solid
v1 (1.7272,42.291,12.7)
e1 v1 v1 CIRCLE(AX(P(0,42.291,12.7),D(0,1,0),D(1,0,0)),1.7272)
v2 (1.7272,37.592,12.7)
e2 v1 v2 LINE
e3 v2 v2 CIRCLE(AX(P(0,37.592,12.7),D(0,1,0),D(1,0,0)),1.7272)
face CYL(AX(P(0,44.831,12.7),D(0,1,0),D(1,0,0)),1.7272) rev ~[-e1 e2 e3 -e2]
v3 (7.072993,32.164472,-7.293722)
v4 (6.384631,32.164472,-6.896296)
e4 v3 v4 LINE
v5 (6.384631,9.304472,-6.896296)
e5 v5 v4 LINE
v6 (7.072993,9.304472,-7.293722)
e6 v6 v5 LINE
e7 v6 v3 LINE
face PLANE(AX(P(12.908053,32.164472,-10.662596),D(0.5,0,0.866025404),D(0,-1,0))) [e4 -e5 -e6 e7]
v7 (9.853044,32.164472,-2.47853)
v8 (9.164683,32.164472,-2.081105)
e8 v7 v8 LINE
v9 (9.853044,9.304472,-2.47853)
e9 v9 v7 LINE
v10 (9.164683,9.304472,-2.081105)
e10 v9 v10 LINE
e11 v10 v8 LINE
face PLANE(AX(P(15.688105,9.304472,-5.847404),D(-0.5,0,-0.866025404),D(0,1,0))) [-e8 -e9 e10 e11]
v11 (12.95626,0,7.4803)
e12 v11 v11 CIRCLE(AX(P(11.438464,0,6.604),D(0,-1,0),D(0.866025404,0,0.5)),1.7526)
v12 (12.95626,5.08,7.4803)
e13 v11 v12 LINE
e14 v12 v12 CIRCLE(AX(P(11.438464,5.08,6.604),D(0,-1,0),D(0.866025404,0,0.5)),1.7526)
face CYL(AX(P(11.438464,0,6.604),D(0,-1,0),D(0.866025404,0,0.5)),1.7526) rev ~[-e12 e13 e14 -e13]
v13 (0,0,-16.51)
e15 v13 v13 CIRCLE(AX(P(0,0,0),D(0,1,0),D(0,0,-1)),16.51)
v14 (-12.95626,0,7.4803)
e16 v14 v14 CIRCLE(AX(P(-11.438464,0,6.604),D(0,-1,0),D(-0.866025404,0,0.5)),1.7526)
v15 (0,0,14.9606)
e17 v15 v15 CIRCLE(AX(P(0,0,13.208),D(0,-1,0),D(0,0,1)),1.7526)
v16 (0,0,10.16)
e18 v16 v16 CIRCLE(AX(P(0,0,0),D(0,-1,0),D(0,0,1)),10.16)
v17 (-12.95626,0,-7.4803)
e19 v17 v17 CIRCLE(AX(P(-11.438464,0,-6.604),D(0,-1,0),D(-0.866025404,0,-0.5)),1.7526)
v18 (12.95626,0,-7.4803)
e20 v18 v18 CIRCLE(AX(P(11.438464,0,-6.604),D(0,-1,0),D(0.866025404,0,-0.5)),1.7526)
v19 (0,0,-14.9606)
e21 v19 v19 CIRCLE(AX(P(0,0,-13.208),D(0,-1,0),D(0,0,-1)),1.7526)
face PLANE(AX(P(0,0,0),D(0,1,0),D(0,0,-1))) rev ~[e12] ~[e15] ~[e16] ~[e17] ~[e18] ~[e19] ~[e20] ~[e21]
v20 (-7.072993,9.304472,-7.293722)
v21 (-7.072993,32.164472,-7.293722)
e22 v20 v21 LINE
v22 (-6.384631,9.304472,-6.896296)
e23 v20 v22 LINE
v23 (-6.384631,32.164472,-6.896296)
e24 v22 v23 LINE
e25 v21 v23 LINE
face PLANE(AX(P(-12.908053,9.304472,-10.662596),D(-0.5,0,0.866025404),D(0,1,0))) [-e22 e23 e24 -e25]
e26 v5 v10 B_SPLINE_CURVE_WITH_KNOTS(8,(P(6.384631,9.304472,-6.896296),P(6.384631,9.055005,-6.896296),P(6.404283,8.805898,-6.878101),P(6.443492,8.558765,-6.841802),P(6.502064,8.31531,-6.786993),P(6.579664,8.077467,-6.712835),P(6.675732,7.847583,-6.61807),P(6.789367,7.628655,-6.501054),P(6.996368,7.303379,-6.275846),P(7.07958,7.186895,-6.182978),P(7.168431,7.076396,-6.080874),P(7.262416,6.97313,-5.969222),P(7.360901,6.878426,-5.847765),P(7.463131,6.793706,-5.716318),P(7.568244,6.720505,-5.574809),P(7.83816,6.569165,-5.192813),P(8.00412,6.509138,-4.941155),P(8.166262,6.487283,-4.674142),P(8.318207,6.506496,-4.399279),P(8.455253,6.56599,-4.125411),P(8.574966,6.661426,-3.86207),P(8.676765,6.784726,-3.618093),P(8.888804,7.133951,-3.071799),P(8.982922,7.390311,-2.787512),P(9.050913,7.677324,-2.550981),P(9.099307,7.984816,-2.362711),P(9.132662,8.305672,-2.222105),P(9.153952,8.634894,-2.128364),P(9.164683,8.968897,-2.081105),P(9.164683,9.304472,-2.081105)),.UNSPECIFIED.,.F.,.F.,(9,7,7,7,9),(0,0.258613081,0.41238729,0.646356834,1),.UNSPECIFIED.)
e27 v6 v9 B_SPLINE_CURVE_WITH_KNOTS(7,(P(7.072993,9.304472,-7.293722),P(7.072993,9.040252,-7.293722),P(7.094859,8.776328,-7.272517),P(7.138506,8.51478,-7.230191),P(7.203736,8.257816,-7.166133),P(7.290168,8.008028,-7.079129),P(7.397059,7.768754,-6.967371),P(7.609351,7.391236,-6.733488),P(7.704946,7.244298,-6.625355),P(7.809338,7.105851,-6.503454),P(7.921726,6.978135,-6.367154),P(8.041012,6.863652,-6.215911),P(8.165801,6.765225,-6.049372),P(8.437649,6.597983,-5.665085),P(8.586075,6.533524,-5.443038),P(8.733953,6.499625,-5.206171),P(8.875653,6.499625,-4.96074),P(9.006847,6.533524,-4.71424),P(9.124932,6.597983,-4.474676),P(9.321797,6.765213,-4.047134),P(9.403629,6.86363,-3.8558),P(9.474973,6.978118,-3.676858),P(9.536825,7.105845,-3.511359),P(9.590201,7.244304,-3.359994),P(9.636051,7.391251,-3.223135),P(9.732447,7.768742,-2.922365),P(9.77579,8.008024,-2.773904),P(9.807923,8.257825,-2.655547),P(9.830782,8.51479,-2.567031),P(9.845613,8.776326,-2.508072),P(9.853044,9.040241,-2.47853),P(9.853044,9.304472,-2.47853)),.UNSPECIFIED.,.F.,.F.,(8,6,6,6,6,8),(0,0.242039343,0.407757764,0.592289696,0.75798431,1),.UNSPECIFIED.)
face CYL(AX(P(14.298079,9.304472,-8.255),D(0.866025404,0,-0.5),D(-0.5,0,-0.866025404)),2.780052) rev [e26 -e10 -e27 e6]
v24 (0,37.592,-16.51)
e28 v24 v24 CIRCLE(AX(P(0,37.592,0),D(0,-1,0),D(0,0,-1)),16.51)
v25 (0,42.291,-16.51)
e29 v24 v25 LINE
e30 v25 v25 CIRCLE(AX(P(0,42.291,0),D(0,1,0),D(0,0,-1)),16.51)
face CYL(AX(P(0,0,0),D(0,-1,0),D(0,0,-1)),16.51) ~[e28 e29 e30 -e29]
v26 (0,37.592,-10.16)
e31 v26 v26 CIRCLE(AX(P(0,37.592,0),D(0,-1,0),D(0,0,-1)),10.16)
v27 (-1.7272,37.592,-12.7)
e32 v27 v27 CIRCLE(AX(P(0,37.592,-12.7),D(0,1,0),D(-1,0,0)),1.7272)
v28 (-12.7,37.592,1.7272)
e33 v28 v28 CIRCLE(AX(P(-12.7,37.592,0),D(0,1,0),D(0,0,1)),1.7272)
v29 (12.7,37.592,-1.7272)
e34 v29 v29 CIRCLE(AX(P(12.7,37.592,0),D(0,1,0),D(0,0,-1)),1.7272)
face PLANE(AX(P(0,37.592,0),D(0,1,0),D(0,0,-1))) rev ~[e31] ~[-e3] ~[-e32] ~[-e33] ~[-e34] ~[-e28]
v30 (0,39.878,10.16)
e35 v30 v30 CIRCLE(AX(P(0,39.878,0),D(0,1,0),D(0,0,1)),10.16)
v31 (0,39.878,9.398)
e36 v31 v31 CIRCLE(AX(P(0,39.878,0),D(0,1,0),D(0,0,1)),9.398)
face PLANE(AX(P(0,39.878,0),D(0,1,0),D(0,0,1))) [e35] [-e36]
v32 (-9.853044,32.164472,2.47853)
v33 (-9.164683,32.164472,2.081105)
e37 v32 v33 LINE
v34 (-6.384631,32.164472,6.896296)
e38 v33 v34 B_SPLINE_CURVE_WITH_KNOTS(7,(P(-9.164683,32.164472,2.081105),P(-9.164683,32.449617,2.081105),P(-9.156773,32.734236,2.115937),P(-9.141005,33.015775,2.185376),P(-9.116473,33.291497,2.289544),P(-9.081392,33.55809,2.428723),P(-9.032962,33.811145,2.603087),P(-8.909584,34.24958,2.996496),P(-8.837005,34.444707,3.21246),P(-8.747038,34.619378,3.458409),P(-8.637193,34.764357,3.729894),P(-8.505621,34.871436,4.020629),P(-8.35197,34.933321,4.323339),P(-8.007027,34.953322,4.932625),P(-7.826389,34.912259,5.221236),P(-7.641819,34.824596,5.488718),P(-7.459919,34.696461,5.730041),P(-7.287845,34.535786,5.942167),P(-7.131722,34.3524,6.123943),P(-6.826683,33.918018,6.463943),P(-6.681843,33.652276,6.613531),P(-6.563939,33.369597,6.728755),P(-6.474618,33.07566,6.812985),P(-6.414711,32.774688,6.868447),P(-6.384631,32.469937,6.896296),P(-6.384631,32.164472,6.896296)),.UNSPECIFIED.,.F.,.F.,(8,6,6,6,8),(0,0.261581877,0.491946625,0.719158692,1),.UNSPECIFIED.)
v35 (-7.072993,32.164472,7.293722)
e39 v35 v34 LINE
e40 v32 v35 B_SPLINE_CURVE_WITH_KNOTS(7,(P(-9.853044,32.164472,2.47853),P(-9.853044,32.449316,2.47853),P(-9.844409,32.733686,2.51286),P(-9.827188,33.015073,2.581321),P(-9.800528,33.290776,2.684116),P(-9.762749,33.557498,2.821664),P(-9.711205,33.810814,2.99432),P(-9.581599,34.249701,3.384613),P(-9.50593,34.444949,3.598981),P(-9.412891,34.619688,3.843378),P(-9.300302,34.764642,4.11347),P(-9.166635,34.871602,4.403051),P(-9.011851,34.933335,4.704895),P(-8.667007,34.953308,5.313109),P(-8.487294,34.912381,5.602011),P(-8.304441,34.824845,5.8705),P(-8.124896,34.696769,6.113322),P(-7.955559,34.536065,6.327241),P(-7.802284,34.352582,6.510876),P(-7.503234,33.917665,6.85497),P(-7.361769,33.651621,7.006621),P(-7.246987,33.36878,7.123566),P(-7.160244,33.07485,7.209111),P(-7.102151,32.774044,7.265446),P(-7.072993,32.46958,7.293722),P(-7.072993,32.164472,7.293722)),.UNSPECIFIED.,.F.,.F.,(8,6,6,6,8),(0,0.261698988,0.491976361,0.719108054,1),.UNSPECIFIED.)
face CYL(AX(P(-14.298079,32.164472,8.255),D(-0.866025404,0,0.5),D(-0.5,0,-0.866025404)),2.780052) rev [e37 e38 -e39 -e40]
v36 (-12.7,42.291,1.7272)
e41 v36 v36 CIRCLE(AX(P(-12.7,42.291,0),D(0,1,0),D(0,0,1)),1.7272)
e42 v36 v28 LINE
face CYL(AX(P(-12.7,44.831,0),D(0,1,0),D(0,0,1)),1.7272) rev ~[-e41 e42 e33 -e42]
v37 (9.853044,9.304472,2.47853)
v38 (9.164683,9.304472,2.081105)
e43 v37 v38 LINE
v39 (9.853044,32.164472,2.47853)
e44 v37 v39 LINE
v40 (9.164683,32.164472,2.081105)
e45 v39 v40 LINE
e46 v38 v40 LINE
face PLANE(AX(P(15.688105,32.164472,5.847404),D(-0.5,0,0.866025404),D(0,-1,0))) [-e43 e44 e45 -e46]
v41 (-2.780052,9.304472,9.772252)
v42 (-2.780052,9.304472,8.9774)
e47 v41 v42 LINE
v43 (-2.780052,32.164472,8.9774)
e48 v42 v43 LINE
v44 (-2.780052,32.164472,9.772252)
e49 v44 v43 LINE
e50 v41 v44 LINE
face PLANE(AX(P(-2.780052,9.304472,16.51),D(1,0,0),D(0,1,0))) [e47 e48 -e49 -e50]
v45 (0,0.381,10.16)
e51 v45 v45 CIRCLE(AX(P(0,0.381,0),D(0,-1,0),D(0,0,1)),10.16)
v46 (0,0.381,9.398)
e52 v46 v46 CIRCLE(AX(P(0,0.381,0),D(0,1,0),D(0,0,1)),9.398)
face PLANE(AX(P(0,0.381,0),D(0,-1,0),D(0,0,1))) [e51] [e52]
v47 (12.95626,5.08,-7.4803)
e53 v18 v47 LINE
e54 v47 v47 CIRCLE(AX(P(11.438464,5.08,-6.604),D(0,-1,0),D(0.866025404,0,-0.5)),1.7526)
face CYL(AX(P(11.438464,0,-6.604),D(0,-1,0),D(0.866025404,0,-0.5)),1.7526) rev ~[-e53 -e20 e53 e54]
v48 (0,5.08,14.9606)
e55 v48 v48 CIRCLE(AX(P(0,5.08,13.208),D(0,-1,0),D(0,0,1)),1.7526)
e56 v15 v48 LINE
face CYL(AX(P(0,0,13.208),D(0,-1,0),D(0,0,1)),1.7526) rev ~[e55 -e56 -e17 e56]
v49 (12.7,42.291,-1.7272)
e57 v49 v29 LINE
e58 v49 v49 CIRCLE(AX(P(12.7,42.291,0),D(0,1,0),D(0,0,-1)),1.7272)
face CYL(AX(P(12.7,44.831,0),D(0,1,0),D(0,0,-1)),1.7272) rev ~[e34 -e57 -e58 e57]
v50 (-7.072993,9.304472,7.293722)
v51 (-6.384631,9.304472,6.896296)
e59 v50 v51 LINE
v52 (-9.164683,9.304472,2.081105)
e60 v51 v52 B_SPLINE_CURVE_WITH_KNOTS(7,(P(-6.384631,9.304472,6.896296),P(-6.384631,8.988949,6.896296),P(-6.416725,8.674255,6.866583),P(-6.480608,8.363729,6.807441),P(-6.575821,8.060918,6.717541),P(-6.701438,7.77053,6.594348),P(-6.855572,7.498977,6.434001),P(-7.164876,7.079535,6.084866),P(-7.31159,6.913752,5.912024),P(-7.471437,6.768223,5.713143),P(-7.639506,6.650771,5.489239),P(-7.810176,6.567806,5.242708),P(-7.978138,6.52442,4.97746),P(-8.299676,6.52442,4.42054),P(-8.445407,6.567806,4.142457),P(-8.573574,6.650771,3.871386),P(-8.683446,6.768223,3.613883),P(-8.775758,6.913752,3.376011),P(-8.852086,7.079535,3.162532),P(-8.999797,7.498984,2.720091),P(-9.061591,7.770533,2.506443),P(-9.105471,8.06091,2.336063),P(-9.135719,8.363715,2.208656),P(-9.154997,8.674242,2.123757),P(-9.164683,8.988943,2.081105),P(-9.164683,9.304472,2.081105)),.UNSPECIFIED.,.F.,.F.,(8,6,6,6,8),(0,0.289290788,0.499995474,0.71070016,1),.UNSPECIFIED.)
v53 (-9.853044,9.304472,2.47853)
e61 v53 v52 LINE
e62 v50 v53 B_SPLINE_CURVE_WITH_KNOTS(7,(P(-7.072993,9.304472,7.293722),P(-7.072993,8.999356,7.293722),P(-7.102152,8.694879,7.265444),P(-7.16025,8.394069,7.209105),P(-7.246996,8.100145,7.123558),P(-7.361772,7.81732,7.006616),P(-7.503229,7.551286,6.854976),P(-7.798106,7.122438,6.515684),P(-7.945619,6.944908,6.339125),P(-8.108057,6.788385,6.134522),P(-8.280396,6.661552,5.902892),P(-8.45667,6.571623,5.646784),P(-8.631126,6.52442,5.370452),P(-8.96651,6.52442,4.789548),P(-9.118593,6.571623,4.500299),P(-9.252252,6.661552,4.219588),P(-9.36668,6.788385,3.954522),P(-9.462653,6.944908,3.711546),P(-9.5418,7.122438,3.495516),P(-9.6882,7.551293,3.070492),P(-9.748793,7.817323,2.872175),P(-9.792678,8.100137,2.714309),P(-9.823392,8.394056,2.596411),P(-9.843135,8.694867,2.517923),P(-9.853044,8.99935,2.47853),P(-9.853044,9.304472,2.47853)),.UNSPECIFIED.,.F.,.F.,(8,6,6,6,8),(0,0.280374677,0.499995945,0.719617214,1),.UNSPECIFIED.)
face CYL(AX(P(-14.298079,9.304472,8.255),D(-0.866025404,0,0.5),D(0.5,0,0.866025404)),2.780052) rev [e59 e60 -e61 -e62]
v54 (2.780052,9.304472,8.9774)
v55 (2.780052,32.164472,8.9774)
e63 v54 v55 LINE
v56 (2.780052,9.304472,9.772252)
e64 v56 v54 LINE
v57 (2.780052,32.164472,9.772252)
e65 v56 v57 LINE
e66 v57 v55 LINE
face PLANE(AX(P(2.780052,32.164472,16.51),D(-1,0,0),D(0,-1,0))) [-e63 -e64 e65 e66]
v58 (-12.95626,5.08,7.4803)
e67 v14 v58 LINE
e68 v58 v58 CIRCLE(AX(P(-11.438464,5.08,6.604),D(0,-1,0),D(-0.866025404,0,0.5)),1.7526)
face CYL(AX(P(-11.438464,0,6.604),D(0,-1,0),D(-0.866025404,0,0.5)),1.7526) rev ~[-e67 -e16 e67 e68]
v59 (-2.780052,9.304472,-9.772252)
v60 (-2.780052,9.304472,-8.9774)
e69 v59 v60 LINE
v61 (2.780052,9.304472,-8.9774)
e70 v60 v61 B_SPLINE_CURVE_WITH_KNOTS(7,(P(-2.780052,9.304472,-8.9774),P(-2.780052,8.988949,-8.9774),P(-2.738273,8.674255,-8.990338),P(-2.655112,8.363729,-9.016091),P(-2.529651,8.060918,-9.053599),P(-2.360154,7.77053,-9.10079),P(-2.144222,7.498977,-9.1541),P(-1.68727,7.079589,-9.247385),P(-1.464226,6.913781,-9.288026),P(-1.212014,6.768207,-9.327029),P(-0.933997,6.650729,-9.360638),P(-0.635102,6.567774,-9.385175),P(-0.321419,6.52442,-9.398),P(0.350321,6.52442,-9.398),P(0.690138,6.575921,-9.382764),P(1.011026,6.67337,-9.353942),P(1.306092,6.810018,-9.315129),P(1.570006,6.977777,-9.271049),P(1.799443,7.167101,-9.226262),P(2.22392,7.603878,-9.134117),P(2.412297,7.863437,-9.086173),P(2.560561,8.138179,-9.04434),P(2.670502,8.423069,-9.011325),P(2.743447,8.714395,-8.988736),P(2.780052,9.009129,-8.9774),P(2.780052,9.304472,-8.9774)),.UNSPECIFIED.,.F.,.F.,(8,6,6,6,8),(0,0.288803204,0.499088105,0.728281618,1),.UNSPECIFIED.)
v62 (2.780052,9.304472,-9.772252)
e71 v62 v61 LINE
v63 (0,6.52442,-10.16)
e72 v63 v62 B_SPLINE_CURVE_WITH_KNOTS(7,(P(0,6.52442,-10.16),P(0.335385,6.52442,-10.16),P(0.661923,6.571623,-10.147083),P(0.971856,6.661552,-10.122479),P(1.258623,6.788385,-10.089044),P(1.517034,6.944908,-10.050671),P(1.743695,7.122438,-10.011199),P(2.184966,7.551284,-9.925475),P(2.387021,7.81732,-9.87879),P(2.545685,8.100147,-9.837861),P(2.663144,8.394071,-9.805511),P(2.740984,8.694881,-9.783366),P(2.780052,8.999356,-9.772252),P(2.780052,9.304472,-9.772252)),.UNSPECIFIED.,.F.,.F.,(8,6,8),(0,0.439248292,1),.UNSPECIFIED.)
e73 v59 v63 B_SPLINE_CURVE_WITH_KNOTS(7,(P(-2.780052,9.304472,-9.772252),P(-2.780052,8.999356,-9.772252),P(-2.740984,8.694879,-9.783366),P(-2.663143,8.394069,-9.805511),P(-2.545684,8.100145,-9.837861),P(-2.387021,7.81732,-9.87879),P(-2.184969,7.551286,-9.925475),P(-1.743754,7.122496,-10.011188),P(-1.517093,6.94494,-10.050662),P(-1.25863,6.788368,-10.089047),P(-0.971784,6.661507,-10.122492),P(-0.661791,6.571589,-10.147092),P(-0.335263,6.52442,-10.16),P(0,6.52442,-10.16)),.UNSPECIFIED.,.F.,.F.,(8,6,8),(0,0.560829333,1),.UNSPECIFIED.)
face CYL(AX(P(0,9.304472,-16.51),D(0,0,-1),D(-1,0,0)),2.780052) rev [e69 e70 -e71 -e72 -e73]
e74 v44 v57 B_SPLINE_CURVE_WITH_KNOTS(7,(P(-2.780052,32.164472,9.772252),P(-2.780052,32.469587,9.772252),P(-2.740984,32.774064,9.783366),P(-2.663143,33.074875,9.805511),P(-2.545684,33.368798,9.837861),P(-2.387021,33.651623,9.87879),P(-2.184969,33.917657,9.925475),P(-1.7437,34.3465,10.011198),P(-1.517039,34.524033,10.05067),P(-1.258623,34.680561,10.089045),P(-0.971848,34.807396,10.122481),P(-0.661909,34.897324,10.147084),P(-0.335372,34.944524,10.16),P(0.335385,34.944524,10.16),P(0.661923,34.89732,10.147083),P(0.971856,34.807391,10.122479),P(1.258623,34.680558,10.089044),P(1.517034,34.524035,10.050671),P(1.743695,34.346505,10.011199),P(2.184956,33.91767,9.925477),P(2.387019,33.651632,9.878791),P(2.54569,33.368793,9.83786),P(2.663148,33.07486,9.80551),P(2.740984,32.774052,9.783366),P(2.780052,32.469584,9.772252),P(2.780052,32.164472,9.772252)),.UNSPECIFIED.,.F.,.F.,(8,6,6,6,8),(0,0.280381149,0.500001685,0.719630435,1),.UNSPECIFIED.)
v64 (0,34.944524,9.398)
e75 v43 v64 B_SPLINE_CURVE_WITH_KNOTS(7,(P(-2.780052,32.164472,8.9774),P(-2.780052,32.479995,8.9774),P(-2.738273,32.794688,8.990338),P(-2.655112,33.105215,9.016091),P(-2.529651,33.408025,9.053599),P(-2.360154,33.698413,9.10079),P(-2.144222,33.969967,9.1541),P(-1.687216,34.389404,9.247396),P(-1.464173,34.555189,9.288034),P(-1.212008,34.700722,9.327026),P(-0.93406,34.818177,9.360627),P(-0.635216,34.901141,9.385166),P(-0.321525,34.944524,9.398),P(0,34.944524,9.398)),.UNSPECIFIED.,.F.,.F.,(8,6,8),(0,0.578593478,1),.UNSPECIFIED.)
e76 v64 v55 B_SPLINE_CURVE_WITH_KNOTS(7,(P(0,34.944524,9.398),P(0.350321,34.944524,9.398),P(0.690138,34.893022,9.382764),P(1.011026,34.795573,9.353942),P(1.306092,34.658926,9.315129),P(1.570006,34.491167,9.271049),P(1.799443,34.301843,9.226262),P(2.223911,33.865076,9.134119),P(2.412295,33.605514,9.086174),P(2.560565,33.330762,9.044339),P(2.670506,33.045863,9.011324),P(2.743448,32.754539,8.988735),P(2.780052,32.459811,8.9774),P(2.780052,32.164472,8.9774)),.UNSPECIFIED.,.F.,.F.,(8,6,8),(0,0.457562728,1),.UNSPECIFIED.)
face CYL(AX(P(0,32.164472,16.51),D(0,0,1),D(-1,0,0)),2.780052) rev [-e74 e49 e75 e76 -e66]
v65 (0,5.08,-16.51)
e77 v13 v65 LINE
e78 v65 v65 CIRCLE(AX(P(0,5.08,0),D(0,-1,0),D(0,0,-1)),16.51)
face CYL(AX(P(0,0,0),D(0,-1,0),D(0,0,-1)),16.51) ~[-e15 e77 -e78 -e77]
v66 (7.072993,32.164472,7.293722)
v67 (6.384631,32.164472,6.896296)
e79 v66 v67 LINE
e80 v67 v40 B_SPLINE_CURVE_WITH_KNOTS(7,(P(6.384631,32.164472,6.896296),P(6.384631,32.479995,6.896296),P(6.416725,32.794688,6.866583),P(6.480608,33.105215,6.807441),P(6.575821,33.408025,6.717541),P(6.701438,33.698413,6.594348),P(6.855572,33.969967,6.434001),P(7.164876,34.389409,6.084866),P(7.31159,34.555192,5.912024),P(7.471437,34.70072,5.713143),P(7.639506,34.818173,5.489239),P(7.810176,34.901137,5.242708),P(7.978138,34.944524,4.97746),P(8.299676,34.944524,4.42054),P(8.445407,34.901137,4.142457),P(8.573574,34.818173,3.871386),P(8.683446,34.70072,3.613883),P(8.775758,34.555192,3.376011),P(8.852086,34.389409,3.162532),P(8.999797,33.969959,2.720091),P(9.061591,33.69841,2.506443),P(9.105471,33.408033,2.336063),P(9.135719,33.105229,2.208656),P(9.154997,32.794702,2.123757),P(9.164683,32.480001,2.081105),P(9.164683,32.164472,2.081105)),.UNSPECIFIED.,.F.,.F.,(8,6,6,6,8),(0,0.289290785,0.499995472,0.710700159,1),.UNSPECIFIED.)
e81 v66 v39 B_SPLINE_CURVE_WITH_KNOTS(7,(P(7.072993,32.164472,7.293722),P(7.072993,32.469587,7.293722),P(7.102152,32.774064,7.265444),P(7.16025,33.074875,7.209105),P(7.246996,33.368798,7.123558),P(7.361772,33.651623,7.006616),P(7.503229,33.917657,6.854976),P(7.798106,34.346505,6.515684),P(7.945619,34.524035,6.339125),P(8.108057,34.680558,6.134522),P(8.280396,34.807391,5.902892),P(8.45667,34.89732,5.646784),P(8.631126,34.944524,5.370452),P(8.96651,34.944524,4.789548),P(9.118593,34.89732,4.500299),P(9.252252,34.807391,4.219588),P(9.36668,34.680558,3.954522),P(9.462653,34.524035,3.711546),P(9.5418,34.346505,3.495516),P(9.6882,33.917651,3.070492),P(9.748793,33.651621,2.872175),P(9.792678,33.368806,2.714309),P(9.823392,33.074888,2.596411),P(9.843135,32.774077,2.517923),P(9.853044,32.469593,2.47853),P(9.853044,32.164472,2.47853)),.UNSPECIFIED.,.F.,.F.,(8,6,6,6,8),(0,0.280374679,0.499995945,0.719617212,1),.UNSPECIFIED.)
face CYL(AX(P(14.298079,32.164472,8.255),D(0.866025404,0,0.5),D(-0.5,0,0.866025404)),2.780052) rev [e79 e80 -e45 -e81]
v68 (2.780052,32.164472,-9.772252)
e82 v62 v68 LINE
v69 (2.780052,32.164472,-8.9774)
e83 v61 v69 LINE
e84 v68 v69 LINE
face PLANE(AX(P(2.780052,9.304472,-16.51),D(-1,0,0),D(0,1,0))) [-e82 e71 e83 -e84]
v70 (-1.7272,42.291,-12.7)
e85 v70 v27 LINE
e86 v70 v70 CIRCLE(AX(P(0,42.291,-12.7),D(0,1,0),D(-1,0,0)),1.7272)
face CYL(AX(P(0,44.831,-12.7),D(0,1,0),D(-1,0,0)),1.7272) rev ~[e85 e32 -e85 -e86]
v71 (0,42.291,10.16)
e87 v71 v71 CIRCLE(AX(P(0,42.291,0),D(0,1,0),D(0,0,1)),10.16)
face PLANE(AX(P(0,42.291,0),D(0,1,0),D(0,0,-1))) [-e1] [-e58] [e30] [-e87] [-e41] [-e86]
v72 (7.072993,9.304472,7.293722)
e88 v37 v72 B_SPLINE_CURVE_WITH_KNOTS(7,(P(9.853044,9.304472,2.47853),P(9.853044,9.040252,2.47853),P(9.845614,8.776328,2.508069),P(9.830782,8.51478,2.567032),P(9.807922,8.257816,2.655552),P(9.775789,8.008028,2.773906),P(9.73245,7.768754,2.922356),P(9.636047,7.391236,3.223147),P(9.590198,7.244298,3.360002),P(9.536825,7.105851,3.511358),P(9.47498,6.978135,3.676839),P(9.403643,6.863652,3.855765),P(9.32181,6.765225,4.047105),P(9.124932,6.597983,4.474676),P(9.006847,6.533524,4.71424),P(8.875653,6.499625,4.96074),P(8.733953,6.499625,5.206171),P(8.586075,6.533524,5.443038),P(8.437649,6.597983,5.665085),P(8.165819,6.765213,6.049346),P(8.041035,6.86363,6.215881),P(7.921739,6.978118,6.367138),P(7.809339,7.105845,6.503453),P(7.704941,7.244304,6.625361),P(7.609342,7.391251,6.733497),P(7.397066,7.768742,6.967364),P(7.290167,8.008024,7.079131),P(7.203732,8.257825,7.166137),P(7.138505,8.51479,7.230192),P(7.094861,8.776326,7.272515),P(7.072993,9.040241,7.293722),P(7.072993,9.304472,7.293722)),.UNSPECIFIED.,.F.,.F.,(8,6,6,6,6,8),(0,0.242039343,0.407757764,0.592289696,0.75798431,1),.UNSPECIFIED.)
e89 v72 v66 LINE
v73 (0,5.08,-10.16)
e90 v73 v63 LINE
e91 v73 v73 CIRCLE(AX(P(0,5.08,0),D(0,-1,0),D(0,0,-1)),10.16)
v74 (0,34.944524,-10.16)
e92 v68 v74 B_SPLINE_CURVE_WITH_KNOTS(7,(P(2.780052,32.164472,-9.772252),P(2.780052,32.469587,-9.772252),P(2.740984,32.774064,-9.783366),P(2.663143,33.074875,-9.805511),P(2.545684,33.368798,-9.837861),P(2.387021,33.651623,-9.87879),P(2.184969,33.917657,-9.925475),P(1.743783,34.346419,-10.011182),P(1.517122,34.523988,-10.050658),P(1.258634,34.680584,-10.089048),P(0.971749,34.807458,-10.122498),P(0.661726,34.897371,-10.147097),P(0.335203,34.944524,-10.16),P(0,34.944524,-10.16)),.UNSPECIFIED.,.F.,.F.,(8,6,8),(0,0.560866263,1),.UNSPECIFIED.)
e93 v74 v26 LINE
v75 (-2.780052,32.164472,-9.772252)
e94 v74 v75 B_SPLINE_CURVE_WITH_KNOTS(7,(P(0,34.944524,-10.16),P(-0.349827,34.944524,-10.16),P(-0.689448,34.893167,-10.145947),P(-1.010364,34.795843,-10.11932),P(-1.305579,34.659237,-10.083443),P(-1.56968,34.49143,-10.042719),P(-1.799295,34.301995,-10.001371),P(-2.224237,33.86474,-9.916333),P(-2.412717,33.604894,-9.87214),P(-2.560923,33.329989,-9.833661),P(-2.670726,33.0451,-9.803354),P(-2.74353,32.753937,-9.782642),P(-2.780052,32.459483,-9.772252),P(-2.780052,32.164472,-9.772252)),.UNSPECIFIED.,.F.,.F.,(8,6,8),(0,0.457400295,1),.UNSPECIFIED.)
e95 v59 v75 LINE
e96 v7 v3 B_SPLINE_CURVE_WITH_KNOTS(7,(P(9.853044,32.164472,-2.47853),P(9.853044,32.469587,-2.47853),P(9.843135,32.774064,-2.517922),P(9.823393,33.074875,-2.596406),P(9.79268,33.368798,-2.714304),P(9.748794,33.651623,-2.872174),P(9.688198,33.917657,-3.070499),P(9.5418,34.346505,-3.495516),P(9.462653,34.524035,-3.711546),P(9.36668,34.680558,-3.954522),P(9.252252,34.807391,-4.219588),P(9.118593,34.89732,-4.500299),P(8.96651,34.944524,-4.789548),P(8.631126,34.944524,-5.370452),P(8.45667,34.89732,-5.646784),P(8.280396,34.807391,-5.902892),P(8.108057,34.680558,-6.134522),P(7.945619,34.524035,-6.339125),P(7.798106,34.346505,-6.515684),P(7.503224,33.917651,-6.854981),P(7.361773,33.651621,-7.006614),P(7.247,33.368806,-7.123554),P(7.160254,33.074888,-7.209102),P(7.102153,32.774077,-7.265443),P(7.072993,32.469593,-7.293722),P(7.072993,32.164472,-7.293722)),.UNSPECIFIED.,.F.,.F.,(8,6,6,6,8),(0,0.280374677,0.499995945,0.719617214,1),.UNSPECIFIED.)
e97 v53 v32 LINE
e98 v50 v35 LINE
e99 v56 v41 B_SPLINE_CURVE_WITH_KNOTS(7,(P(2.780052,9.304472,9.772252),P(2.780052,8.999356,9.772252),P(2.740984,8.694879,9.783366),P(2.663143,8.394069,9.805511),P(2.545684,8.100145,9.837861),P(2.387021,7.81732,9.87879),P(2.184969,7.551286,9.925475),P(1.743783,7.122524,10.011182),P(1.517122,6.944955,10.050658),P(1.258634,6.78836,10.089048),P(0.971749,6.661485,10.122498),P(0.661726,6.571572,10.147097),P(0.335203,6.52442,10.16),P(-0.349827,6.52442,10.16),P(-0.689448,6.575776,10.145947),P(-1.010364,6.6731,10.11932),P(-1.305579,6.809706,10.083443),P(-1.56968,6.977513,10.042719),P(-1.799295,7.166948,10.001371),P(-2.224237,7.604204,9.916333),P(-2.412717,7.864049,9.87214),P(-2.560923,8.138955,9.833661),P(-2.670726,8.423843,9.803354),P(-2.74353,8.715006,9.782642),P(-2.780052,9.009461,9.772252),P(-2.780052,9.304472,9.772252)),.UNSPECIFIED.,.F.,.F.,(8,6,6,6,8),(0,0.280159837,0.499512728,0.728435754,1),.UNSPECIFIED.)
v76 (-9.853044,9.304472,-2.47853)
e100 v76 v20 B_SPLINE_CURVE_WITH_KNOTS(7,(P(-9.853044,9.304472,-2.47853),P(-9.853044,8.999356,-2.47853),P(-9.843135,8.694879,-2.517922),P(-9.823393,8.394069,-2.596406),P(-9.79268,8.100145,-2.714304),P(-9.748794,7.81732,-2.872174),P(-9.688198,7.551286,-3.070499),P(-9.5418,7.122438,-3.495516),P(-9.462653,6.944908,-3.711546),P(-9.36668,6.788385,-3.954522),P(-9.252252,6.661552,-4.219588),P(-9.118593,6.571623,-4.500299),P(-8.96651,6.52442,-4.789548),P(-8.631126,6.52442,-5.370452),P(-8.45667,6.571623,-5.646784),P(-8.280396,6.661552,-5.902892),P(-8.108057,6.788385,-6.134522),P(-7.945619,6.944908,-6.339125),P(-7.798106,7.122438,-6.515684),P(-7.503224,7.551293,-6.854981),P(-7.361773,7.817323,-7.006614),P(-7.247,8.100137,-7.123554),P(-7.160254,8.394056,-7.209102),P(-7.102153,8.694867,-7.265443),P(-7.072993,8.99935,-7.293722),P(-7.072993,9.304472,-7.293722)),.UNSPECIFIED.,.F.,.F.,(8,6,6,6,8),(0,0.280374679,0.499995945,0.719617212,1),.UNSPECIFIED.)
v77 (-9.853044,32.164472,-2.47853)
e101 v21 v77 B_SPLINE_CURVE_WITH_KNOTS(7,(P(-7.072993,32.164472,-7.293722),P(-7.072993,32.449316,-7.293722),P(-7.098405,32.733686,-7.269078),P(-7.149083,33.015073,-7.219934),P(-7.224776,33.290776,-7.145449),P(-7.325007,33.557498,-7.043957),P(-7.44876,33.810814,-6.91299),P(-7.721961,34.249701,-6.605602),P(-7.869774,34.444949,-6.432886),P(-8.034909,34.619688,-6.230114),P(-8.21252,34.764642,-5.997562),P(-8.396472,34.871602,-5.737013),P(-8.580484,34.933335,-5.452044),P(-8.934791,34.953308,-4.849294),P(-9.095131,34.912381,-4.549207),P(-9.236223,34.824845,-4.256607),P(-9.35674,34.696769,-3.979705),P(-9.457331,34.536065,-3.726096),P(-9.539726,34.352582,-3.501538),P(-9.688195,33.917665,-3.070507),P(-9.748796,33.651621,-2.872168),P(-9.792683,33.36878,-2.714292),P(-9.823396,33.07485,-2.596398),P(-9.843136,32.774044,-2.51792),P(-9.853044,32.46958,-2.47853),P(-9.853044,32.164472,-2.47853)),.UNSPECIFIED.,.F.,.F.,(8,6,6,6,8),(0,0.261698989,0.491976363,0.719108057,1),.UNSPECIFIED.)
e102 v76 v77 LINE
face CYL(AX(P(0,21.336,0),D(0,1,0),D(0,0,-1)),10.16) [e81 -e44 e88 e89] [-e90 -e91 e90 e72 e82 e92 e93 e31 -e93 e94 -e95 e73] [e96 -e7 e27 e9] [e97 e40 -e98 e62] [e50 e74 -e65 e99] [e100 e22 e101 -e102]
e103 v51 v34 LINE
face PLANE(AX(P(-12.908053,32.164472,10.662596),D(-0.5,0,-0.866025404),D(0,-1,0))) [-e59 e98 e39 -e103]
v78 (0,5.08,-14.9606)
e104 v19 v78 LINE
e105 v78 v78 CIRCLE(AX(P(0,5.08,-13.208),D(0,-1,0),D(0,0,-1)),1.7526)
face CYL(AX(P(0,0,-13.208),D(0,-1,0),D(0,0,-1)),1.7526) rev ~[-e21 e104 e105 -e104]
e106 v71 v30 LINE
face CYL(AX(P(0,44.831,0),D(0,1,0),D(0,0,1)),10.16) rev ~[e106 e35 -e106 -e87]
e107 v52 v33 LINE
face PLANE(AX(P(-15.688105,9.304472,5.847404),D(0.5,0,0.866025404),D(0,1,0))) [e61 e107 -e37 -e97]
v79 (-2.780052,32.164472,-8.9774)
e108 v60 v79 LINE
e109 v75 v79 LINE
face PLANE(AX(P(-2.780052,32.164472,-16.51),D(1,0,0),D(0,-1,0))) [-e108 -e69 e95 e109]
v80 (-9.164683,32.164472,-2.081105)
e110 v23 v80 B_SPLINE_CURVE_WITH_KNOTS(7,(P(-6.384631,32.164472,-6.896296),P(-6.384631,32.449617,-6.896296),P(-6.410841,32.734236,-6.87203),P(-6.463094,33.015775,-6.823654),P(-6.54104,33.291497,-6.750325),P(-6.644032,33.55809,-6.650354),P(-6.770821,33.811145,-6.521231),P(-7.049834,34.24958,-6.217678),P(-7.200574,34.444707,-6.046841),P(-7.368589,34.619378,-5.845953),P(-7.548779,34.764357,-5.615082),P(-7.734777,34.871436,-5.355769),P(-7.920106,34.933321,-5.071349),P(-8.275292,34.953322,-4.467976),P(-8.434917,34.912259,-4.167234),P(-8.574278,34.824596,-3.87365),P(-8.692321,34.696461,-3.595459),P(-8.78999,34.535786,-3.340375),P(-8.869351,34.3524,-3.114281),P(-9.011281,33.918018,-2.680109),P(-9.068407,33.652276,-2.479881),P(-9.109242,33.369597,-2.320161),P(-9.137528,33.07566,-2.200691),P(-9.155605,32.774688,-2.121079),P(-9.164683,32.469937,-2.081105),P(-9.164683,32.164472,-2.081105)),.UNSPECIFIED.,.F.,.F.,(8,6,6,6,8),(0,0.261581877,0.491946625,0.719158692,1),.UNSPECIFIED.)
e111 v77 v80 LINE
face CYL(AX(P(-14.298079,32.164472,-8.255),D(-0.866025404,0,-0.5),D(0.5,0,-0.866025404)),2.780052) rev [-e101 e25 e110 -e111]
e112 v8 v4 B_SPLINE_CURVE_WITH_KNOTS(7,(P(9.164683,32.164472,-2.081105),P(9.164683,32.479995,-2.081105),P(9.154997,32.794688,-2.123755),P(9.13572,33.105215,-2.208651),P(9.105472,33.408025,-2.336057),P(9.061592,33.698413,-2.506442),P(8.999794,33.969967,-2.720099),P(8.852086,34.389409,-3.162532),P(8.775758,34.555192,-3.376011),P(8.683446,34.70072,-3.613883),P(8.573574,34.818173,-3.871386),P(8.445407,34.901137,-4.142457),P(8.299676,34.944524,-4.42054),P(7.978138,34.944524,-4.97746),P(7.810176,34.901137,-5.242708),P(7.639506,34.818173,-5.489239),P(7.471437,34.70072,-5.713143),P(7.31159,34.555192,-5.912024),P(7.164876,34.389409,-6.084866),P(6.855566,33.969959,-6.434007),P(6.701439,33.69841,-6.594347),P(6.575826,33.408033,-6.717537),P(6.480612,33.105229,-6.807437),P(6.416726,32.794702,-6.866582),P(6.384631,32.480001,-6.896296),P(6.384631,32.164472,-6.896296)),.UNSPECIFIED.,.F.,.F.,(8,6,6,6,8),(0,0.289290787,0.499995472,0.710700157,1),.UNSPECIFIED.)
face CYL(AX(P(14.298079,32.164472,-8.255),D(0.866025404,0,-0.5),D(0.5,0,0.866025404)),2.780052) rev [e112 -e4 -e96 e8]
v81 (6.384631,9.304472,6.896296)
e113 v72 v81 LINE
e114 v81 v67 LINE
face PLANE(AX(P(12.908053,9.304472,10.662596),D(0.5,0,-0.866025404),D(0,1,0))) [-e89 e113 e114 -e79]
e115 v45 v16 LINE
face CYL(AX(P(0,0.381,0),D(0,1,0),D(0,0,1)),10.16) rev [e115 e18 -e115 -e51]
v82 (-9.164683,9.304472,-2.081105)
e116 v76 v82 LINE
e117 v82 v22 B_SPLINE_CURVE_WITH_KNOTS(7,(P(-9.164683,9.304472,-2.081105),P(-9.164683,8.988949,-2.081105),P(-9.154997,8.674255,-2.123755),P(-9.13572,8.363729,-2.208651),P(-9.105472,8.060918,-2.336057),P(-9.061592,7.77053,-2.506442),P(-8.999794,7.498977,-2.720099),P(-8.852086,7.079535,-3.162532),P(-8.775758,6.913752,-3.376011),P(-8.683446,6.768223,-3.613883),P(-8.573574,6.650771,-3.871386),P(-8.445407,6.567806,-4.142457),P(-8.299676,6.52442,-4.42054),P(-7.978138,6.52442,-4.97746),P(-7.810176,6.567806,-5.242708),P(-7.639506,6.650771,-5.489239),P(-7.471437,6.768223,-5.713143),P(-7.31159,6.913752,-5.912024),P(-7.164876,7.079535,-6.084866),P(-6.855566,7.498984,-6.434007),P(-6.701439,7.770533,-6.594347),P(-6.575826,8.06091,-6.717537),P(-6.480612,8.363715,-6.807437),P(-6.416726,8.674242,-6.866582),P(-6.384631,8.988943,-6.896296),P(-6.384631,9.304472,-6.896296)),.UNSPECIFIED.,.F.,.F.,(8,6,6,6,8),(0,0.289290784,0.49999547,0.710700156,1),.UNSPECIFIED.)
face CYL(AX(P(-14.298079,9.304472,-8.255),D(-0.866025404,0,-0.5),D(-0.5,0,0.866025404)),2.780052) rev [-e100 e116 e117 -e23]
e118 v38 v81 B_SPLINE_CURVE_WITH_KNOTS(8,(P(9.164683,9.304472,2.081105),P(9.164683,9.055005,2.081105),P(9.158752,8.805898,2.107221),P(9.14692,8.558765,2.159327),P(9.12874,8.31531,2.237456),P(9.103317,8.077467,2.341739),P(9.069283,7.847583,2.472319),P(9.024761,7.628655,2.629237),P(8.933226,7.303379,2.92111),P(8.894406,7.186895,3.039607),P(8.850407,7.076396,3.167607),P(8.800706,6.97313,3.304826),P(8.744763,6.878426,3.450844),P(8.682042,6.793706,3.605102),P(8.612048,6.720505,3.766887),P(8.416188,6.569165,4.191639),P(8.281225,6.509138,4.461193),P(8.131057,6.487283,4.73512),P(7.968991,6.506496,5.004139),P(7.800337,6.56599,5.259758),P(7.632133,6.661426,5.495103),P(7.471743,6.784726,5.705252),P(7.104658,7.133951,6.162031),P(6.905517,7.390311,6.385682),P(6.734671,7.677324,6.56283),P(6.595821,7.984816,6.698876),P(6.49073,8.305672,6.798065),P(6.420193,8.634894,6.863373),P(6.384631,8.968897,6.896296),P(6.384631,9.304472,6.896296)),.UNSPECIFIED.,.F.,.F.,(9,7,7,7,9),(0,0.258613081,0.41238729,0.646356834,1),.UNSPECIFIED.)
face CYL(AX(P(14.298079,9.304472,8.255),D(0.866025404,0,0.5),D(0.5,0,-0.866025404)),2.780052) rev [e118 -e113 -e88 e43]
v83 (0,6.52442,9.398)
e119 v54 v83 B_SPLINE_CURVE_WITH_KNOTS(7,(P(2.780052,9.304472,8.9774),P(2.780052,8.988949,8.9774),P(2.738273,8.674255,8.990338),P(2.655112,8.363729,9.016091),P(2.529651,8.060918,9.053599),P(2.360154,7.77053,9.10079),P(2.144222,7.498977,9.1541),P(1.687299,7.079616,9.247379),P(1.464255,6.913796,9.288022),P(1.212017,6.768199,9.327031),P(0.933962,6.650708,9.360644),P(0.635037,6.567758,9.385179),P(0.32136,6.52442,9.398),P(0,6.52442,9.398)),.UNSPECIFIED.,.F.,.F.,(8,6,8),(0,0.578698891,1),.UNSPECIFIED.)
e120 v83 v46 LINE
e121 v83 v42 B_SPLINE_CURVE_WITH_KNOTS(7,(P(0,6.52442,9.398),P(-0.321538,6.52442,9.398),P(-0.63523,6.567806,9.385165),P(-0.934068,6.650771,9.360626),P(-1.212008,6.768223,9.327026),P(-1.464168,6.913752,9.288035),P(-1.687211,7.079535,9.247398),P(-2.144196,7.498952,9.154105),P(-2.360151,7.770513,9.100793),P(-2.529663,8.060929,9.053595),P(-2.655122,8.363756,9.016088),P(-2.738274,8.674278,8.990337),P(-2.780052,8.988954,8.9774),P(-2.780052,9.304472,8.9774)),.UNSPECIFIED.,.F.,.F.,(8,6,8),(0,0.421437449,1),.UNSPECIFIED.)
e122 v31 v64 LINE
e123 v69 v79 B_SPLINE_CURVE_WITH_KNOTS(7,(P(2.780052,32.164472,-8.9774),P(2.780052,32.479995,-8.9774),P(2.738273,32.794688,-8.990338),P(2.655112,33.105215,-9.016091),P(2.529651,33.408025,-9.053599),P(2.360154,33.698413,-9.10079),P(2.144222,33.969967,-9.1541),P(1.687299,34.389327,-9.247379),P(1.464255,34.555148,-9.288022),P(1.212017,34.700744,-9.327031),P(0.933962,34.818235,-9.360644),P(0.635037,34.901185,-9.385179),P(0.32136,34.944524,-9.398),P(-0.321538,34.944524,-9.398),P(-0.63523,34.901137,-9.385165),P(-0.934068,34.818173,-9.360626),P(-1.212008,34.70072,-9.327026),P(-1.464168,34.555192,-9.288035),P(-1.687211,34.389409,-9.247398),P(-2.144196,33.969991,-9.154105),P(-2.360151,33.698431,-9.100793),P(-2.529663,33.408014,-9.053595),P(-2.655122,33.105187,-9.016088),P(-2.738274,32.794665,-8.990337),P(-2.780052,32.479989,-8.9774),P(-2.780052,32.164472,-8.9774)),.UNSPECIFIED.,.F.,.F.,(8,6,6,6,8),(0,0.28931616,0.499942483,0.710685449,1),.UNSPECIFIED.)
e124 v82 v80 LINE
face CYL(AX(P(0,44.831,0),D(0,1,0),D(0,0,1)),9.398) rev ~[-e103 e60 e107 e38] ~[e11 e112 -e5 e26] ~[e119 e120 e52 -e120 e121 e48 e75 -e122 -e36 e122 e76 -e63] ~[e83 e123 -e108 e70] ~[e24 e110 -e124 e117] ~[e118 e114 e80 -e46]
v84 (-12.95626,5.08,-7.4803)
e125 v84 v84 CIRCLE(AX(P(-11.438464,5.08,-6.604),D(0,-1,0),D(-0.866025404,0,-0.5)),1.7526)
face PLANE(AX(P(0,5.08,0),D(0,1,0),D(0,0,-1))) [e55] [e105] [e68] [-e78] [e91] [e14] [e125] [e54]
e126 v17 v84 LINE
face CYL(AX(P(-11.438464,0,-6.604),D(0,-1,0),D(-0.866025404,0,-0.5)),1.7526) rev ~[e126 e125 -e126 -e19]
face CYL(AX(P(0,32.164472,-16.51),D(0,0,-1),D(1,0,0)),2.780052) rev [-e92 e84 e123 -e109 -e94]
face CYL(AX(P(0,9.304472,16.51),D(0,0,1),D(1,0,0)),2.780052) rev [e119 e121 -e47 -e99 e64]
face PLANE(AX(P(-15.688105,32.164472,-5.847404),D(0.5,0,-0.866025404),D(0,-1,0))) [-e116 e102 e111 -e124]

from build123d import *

# Parameters (mm, degrees)
SKETCH1_R           = 16.51
BOSS_EXTRUDE1_DEPTH = 44.831
SKETCH2_R           = 9.398
CUT_EXTRUDE1_DEPTH  = 51.546797732
SKETCH3_R           = 10.16
CUT_EXTRUDE2_DEPTH  = 4.953
SKETCH4_R           = 1.7272
CUT_EXTRUDE3_DEPTH  = 12.7
CIRPATTERN1_COUNT   = 4
CUT_EXTRUDE4_START  = -0.381
SKETCH5_R           = 10.16
CUT_EXTRUDE4_DEPTH  = 0.381
SKETCH7_W           = 9.037015708
SKETCH7_H           = 32.512
SKETCH9_R           = 1.7526
CUT_EXTRUDE6_DEPTH  = 10.16
CIRPATTERN3_COUNT   = 6
CUT_EXTRUDE7_DEPTH  = 15.24
CIRPATTERN4_COUNT   = 6
CUT_EXTRUDE8_START  = -2.54
SKETCH13_R          = 16.51
CUT_EXTRUDE8_DEPTH  = 2.54


with BuildPart() as part:
    # Sketch1 → Boss-Extrude1 (new body)
    with BuildSketch(Plane(origin=(0, 0, 0), x_dir=(1, 0, 0), z_dir=(0, 1, 0))):
        with Locations(Location((0, 0, 0), (0, 0, 90))):
            Circle(SKETCH1_R)
    extrude(amount=BOSS_EXTRUDE1_DEPTH)

    # Sketch2 → Cut-Extrude1 (cut, through all)
    with BuildSketch(Plane(origin=(0, 44.831, 0), x_dir=(1, 0, 0), z_dir=(0, 1, 0))):
        with Locations(Location((0, 0, 0), (0, 0, 270))):
            Circle(SKETCH2_R)
    extrude(amount=-CUT_EXTRUDE1_DEPTH, mode=Mode.SUBTRACT)

    # Sketch3 → Cut-Extrude2 (cut)
    with BuildSketch(Plane(origin=(0, 44.831, 0), x_dir=(1, 0, 0), z_dir=(0, 1, 0))):
        with Locations(Location((0, 0, 0), (0, 0, 270))):
            Circle(SKETCH3_R)
    extrude(amount=-CUT_EXTRUDE2_DEPTH, mode=Mode.SUBTRACT)

    # Sketch4 → Cut-Extrude3 (cut)
    with BuildSketch(Plane(origin=(0, 44.831, 0), x_dir=(1, 0, 0), z_dir=(0, 1, 0))):
        with Locations(Location((-12.7, 0, 0), (0, 0, 270))):
            Circle(SKETCH4_R)
    cut_extrude3 = extrude(amount=-CUT_EXTRUDE3_DEPTH, mode=Mode.SUBTRACT)

    # CirPattern1: Cut-Extrude3 ×4 about axis
    cirpattern1_axis = Axis((0, 0, 0), (0, 1, 0))
    for i in range(1, CIRPATTERN1_COUNT):
        add(cut_extrude3.rotate(cirpattern1_axis, i * 360 / CIRPATTERN1_COUNT), mode=Mode.SUBTRACT)

    # Sketch5 → Cut-Extrude4 (cut)
    with BuildSketch(Plane.XZ.offset(CUT_EXTRUDE4_START)):
        with Locations(Location((0, 0, 0), (0, 0, 90))):
            Circle(SKETCH5_R)
    extrude(amount=CUT_EXTRUDE4_DEPTH, mode=Mode.SUBTRACT)

    # Sketch7 → Cut-Revolve2 (revolve, cut)
    with BuildSketch(Plane.XY, mode=Mode.PRIVATE) as cut_revolve2_sk:
        with Locations((-14.678507762, 21.336)):
            Rectangle(SKETCH7_W, SKETCH7_H)
    cut_revolve2 = revolve(cut_revolve2_sk.sketch.rotate(Axis((0, 0, 0), (0, 1, 0)), 270), axis=Axis((0, 0, 0), (0, 1, 0)), mode=Mode.SUBTRACT)

    # Sketch9 → Cut-Extrude6 (cut)
    with BuildSketch(Plane.XZ):
        with Locations(Location((0, -13.208, 0), (0, 0, 270))):
            Circle(SKETCH9_R)
    cut_extrude6 = extrude(amount=-CUT_EXTRUDE6_DEPTH, mode=Mode.SUBTRACT)

    # CirPattern3: Cut-Extrude6 ×6 about axis
    cirpattern3_axis = Axis((0, 0, 0), (0, 1, 0))
    for i in range(1, CIRPATTERN3_COUNT):
        add(cut_extrude6.rotate(cirpattern3_axis, i * 360 / CIRPATTERN3_COUNT), mode=Mode.SUBTRACT)

    # Sketch12 → Cut-Extrude7 (cut)
    with BuildSketch(Plane.XY.offset(16.51)):
        with BuildLine():
            Line((2.780051948, 32.164471738), (2.780051948, 9.304471738))
            ThreePointArc((2.780051948, 9.304471738), (0, 6.52441979), (-2.780051948, 9.304471738))
            Line((-2.780051948, 9.304471738), (-2.780051948, 32.164471738))
            ThreePointArc((-2.780051948, 32.164471738), (0, 34.944523686), (2.780051948, 32.164471738))
        make_face()
    cut_extrude7 = extrude(amount=-CUT_EXTRUDE7_DEPTH, mode=Mode.SUBTRACT)

    # CirPattern4: Cut-Revolve2, Cut-Extrude7 ×6 about axis
    cirpattern4_axis = Axis((0, 0, 0), (0, 1, 0))
    add([cut_revolve2.rotate(cirpattern4_axis, i * 360 / CIRPATTERN4_COUNT) for i in range(1, CIRPATTERN4_COUNT)], mode=Mode.SUBTRACT)
    add([cut_extrude7.rotate(cirpattern4_axis, i * 360 / CIRPATTERN4_COUNT) for i in range(1, CIRPATTERN4_COUNT)], mode=Mode.SUBTRACT)

    # Sketch13 → Cut-Extrude8 (cut)
    with BuildSketch(Plane(origin=(0, 44.831, 0), x_dir=(1, 0, 0), z_dir=(0, 1, 0)).offset(CUT_EXTRUDE8_START)):
        with Locations(Location((0, 0, 0), (0, 0, 90))):
            Circle(SKETCH13_R)
    extrude(amount=CUT_EXTRUDE8_DEPTH, mode=Mode.SUBTRACT)


solid = part.part
